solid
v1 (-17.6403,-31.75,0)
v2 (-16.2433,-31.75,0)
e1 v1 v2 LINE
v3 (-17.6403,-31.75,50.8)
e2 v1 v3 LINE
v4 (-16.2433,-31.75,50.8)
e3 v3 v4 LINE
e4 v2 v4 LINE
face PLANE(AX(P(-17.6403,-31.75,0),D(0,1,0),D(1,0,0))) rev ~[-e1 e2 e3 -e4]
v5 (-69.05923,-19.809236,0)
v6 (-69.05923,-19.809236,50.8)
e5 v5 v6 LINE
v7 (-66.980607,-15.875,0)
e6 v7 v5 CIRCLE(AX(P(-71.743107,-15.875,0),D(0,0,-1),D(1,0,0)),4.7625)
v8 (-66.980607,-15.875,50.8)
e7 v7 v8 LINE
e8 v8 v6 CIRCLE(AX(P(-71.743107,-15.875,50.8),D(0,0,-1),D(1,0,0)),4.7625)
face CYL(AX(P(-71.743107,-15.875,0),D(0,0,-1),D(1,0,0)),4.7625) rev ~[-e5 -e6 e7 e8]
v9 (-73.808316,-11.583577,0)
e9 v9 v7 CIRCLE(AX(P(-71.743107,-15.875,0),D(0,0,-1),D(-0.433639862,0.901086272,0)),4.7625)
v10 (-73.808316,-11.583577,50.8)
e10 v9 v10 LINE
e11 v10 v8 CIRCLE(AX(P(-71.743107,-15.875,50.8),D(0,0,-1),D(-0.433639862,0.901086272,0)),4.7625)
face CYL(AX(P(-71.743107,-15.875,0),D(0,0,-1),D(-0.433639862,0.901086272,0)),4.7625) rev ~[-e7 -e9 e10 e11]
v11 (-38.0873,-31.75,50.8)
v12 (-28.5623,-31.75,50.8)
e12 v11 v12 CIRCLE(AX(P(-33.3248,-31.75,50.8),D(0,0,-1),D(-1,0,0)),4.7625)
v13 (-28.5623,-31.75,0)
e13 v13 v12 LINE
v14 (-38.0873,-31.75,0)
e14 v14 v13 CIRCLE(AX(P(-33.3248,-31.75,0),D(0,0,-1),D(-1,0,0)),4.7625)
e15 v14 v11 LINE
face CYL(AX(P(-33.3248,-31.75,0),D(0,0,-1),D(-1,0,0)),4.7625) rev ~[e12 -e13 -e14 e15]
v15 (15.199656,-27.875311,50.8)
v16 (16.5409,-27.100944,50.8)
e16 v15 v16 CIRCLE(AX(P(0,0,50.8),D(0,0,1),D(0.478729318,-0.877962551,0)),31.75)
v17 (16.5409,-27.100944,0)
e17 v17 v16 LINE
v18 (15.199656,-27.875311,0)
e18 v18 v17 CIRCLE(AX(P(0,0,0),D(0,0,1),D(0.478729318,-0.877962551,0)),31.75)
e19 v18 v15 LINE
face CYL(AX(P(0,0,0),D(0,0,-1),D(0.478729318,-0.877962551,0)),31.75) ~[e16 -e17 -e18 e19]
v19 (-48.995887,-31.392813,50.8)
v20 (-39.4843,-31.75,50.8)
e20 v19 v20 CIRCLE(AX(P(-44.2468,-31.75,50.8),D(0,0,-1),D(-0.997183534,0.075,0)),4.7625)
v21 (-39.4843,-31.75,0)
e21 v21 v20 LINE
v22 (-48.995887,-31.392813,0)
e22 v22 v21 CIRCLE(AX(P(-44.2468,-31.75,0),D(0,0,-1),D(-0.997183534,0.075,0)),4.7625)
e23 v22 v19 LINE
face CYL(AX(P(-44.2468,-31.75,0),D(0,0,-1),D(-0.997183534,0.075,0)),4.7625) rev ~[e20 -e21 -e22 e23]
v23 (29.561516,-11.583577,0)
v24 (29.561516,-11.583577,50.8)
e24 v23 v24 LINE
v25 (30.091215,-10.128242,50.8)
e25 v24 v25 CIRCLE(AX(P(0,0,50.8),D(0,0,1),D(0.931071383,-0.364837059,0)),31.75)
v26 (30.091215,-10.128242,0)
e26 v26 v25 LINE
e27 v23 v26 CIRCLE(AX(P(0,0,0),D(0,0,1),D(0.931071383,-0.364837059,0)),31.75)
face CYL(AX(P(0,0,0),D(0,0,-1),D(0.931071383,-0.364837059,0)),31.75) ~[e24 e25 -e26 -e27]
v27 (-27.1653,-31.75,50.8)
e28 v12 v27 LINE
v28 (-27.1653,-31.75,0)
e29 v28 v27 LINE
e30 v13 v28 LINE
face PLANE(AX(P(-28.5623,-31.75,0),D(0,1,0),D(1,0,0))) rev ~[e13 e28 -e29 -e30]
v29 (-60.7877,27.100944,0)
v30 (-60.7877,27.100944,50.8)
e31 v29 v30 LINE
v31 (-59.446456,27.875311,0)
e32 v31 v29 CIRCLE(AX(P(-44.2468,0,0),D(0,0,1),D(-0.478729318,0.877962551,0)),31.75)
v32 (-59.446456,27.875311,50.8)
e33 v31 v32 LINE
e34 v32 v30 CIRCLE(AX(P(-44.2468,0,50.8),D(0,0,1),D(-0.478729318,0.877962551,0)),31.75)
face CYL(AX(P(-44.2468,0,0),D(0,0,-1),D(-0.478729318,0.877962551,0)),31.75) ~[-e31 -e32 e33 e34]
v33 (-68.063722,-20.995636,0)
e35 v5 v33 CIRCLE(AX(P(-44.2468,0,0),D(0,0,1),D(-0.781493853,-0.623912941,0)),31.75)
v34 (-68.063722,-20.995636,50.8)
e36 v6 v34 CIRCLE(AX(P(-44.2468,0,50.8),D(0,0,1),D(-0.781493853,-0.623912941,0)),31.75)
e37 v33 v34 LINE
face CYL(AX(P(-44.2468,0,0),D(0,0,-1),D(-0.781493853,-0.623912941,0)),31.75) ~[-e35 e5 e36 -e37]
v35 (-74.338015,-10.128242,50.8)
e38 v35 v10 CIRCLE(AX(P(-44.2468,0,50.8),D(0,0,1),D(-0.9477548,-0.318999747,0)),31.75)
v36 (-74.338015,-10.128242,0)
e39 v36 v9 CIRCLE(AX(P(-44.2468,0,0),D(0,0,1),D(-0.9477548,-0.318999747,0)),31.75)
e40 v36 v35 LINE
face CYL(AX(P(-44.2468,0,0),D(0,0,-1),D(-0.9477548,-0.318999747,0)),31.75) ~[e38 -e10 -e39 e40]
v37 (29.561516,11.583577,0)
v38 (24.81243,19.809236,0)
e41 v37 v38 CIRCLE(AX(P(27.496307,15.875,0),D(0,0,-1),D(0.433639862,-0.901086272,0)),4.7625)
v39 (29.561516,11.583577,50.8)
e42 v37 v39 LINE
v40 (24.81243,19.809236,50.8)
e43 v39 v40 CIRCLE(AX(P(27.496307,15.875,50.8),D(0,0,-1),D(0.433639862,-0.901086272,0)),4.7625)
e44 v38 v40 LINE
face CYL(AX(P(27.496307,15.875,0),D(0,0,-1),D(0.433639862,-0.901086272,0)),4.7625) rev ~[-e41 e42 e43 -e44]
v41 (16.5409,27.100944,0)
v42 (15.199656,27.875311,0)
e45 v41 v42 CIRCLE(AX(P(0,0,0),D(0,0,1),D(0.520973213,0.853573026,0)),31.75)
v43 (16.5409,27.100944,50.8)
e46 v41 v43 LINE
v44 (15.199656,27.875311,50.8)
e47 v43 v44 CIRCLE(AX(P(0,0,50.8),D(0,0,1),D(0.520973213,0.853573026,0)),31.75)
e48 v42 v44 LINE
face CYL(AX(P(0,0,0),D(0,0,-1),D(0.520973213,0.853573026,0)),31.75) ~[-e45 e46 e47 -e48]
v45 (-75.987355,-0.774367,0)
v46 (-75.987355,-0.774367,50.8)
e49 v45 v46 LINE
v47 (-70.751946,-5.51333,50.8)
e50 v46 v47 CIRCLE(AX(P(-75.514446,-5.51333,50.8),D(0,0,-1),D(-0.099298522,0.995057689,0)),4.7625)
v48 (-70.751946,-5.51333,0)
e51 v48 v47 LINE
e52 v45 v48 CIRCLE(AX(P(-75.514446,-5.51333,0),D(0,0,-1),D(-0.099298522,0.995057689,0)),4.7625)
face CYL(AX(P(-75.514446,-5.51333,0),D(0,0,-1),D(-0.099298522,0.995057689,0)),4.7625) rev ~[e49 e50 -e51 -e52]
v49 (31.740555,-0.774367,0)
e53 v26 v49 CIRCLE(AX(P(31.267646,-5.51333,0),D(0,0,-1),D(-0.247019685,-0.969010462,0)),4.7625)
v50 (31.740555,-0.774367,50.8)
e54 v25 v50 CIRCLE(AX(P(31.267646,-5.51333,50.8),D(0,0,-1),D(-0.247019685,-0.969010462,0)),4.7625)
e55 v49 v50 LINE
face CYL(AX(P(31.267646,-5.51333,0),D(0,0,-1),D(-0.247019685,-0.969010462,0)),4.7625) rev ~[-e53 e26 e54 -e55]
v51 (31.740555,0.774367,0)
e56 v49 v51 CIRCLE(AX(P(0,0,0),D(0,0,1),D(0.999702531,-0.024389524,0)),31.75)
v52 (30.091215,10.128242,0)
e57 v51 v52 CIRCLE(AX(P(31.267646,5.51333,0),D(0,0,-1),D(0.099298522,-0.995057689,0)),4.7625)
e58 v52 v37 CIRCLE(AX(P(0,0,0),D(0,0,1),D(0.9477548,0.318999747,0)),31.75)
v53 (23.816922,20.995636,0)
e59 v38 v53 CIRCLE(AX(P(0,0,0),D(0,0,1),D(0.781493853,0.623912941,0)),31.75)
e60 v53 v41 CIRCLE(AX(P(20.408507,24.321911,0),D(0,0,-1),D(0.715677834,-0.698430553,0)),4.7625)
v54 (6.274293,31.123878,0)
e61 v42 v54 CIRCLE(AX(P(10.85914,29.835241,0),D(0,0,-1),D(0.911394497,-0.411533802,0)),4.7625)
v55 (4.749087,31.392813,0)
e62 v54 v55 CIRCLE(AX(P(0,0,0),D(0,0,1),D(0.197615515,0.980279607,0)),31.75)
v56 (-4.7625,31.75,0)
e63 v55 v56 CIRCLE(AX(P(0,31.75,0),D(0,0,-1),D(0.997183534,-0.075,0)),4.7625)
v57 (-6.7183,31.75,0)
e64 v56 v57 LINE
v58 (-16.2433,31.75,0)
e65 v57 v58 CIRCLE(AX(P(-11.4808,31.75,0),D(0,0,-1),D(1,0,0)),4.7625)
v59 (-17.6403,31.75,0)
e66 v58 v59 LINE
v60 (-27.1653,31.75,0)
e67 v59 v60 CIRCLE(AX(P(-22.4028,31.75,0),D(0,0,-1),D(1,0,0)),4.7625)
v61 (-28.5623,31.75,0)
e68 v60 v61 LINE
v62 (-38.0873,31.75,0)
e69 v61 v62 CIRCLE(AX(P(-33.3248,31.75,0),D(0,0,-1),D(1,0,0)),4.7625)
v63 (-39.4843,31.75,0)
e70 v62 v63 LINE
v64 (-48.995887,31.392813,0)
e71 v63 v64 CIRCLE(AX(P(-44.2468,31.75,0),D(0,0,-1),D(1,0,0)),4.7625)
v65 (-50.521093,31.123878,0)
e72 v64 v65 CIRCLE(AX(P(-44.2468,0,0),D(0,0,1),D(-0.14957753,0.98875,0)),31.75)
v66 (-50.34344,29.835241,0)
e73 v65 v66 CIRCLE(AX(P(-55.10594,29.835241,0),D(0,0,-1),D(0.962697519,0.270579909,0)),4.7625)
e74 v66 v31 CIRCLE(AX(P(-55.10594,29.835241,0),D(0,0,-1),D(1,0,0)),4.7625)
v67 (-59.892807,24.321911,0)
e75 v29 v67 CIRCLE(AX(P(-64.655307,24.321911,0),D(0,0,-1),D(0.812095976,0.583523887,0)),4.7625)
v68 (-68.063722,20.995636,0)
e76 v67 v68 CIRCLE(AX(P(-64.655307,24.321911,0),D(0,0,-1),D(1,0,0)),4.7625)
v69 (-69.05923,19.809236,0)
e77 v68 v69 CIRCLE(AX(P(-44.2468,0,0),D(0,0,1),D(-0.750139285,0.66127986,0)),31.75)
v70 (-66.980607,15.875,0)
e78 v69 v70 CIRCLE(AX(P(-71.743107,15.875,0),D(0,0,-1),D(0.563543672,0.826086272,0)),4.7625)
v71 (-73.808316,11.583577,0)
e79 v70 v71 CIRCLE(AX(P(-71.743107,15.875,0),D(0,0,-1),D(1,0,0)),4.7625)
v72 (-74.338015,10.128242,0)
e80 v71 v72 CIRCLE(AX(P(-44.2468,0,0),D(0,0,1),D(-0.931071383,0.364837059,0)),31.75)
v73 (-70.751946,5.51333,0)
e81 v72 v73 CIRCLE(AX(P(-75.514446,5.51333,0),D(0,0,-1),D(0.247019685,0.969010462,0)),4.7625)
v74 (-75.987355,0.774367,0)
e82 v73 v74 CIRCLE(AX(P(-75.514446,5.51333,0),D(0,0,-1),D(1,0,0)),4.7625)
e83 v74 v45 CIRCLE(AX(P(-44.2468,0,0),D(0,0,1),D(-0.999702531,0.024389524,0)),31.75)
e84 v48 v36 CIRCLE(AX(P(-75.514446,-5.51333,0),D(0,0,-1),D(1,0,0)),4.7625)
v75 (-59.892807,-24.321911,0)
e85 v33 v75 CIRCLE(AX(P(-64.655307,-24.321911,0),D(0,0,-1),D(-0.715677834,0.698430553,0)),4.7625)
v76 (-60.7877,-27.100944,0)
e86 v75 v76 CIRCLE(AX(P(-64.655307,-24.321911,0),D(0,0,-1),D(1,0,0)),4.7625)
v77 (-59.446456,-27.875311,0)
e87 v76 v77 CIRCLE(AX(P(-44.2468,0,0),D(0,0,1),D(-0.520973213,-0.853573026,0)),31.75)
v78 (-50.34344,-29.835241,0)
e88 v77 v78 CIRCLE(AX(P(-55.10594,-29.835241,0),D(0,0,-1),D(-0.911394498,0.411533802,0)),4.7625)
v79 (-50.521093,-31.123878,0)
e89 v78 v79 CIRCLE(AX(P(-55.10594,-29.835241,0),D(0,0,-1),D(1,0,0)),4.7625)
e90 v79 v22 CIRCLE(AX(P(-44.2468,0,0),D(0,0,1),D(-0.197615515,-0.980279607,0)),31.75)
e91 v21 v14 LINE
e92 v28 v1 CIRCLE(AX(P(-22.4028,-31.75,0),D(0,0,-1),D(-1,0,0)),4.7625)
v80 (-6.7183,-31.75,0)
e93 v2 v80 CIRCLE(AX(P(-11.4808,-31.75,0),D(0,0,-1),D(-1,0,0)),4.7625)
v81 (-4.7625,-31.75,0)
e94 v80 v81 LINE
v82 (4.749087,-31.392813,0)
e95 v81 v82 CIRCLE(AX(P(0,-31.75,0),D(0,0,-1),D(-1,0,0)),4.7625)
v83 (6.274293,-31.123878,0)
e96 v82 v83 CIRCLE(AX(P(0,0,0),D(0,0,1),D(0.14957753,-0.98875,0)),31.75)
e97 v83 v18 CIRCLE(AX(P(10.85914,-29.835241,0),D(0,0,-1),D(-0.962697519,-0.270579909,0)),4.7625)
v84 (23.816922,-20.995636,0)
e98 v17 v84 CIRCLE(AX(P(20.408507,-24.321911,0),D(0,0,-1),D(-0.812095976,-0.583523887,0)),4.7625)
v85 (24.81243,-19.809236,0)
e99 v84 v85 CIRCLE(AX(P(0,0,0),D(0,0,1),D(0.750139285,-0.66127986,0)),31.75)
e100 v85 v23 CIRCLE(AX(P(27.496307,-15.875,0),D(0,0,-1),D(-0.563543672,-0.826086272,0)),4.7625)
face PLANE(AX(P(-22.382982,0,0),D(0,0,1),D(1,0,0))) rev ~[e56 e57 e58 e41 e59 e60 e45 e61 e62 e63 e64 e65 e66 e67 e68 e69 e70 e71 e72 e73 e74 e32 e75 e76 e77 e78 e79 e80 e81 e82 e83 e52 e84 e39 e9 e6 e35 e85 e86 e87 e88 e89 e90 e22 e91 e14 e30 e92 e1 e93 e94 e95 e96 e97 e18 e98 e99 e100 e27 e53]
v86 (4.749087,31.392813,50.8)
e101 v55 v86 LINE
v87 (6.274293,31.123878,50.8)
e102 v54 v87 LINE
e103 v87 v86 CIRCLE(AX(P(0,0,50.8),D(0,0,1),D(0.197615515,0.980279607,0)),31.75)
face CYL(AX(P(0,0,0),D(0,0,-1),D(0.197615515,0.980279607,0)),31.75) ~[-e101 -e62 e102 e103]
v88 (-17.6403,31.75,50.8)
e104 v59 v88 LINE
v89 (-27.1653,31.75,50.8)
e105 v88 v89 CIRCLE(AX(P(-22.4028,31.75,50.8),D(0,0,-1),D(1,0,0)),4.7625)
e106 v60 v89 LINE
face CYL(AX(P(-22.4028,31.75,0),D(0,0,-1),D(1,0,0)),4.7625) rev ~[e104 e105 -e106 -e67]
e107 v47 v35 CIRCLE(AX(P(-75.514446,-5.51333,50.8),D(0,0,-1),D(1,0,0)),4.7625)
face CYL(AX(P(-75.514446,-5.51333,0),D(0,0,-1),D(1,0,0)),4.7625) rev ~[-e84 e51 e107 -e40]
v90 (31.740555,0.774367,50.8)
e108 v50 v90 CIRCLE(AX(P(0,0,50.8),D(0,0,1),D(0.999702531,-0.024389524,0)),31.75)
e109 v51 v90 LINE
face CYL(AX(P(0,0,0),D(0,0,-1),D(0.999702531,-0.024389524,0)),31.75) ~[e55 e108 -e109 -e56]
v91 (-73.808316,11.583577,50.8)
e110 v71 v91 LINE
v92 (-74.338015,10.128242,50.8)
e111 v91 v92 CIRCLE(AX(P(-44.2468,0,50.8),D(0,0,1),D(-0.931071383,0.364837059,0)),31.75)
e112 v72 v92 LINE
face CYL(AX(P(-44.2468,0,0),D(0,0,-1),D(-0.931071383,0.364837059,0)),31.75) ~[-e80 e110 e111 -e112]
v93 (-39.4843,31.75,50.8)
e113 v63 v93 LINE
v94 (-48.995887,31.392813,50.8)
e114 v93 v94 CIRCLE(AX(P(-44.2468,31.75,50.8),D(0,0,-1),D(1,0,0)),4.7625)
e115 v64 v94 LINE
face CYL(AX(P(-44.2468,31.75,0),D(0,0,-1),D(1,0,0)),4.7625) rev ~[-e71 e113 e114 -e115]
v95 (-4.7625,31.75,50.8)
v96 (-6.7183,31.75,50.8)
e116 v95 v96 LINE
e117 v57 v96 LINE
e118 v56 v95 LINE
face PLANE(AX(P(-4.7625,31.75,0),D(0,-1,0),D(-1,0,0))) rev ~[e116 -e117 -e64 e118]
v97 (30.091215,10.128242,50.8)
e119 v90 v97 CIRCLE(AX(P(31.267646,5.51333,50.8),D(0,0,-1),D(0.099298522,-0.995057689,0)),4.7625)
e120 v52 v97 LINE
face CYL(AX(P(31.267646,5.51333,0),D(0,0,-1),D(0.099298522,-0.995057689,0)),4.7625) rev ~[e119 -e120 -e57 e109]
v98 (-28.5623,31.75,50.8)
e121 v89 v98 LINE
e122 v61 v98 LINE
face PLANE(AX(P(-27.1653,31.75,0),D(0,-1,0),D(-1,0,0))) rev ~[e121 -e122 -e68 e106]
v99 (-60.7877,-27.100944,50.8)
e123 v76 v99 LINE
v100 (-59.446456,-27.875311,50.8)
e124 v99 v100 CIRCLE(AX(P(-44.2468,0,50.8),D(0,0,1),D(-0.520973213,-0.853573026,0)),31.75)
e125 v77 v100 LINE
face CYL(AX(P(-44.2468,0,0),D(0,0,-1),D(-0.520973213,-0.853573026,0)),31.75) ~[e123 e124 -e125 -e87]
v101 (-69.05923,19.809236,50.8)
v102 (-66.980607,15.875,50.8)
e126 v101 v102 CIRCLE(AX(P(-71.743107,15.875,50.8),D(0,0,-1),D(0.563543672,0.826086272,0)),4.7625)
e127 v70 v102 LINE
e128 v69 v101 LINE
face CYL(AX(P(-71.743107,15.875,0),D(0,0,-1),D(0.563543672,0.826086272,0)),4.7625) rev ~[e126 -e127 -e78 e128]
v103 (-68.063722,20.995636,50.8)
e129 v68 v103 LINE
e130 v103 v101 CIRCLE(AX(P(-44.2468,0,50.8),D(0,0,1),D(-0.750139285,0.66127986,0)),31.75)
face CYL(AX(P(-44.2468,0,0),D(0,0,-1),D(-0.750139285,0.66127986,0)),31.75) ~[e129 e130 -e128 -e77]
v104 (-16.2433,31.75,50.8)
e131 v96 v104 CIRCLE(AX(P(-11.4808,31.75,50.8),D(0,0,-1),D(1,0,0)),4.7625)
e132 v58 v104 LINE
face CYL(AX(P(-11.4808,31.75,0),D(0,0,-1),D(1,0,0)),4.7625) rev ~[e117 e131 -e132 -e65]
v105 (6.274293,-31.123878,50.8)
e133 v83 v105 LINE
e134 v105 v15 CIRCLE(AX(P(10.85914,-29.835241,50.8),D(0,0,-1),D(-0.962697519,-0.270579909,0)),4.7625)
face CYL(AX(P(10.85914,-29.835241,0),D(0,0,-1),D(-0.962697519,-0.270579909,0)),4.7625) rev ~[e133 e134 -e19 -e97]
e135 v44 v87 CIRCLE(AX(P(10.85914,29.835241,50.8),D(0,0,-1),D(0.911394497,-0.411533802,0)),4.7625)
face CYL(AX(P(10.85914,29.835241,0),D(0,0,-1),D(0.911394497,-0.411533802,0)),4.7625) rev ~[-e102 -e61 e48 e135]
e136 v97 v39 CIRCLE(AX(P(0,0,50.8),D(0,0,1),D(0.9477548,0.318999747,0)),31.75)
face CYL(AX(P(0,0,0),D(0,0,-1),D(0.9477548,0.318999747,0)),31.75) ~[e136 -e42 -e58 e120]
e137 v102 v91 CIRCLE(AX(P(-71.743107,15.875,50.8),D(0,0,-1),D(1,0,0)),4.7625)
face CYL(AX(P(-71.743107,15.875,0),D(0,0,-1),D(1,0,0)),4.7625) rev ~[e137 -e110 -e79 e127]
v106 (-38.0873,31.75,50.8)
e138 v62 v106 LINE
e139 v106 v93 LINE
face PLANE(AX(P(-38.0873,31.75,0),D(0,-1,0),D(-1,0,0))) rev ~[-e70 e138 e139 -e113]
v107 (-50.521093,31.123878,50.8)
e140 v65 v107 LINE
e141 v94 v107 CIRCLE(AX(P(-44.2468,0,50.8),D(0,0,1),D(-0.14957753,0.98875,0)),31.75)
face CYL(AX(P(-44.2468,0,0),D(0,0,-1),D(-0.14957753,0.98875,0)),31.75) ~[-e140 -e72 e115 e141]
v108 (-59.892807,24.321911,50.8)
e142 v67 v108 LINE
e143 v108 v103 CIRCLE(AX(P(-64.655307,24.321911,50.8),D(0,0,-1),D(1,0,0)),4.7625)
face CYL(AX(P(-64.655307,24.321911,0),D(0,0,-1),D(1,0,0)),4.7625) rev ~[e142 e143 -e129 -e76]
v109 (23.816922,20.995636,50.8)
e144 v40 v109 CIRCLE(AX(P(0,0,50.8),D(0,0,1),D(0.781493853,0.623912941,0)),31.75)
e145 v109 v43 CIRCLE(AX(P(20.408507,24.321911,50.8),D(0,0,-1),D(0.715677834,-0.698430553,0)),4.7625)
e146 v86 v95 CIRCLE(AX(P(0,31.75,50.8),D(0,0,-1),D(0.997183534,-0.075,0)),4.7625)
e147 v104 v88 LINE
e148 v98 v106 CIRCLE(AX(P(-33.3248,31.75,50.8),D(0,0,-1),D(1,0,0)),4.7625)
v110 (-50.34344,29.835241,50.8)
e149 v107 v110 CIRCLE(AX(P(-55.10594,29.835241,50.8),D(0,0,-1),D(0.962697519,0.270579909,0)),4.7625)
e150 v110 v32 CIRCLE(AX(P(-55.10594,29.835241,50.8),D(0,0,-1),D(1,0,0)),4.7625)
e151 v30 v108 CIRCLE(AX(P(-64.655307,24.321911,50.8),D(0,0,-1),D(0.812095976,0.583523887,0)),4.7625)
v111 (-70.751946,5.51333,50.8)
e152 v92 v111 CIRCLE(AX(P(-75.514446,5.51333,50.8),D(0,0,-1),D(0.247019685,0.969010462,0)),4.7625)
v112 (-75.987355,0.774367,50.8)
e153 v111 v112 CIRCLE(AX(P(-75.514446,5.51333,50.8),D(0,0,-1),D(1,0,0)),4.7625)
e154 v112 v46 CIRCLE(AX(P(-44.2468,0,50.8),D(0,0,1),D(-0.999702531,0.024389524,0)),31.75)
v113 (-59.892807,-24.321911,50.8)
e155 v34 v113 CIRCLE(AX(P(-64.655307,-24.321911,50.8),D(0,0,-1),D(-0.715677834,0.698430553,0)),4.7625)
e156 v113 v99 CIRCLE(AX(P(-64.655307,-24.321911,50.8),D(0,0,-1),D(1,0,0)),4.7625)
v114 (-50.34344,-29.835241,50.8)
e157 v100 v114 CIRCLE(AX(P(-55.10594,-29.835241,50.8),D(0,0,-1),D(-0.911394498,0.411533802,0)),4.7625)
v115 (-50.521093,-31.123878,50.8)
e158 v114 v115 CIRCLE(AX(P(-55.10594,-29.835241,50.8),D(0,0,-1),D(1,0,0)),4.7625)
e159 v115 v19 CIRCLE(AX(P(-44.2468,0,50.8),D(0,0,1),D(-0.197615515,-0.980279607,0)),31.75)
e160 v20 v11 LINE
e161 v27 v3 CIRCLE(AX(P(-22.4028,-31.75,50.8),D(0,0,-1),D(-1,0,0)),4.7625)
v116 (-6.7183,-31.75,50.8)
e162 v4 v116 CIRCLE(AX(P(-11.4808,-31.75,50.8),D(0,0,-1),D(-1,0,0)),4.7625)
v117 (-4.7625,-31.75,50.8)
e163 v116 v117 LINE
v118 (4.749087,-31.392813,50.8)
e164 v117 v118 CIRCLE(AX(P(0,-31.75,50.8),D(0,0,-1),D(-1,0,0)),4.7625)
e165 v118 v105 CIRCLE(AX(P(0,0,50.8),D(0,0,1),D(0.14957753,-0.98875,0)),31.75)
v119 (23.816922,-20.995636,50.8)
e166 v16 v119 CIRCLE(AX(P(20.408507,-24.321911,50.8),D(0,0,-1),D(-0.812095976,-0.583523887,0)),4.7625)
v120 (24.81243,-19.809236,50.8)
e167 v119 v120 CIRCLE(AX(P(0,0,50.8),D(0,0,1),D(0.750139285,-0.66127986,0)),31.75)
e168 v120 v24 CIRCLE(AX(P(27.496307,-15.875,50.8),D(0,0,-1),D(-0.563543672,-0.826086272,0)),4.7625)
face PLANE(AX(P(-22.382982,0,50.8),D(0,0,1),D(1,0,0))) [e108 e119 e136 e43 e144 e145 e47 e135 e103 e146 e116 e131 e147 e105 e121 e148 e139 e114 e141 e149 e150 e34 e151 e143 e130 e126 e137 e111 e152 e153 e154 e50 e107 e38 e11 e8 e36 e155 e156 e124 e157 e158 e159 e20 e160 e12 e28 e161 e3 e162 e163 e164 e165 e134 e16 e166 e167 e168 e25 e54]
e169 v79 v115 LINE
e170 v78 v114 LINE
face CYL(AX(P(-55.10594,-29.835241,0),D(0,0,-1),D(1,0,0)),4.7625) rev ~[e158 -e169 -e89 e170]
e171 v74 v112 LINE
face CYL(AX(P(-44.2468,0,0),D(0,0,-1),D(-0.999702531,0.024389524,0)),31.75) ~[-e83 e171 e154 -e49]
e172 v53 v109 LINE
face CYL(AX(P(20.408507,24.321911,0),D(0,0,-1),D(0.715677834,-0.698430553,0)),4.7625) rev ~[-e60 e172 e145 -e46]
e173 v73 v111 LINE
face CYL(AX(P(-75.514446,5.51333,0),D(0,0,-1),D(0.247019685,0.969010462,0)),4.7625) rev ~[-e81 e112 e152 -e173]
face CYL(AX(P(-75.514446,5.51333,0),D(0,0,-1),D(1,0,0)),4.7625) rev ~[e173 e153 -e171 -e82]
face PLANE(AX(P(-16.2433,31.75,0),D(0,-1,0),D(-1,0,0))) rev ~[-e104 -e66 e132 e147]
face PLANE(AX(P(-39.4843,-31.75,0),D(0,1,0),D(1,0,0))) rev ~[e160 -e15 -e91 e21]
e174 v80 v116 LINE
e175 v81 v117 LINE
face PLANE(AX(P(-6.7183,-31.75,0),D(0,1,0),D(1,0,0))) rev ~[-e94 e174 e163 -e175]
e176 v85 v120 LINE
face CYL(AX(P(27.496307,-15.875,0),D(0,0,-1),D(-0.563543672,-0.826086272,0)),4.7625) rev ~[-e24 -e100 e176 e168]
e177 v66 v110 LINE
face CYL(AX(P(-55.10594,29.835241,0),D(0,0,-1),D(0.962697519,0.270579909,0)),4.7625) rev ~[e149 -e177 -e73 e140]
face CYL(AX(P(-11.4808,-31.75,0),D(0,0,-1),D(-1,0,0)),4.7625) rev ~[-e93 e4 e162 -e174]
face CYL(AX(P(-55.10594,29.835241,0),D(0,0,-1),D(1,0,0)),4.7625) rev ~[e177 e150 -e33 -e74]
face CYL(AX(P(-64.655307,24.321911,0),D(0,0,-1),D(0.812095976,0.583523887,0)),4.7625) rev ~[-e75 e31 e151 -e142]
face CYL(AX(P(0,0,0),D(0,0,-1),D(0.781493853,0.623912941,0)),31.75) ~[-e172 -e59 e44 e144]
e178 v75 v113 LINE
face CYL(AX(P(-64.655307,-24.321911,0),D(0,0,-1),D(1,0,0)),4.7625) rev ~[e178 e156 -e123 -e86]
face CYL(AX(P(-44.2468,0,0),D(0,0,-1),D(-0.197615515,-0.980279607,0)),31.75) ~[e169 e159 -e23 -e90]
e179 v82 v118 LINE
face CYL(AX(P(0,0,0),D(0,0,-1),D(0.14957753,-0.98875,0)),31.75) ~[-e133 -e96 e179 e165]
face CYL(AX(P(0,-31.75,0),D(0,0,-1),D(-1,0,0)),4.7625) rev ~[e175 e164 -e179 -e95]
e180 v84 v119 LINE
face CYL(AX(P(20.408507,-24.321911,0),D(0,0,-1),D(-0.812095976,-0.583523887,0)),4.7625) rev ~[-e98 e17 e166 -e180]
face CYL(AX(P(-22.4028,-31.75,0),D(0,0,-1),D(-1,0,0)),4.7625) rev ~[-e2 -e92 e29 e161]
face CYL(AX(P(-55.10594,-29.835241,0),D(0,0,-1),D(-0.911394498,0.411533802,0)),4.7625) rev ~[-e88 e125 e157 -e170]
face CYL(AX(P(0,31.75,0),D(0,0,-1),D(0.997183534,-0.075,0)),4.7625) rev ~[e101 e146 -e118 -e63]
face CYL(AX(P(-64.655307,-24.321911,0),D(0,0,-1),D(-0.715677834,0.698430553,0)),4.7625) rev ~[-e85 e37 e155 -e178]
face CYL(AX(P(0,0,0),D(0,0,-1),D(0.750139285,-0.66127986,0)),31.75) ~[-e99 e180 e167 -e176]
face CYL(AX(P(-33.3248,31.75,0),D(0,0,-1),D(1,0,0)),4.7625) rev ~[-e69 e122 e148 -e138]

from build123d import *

# Parameters (mm, degrees)
F1_DEPTH = 50.8


with BuildPart() as f1:
    # F0 (on Top) → F1 (new body)
    with BuildSketch(Plane.XY):
        with BuildLine():
            ThreePointArc((-39.4843, 31.75), (-44.0680803662, 26.9908545365), (-48.9958865795, 31.3928125))
            ThreePointArc((-48.9958865795, 31.3928125), (-49.7601296409, 31.2676461581), (-50.5210926164, 31.1238775246))
            ThreePointArc((-50.5210926164, 31.1238775246), (-50.3880618617, 30.485653166), (-50.3434395506, 29.83524071))
            ThreePointArc((-50.3434395506, 29.83524071), (-54.1035181326, 25.1794316985), (-59.4464558449, 27.8753109794))
            ThreePointArc((-59.4464558449, 27.8753109794), (-60.1218, 27.4963065702), (-60.7876995241, 27.1009435801))
            ThreePointArc((-60.7876995241, 27.1009435801), (-60.1220470195, 25.7816931615), (-59.8928066075, 24.321911069))
            ThreePointArc((-59.8928066075, 24.321911069), (-62.859641473, 19.9109029105), (-68.0637222924, 20.9956355589))
            ThreePointArc((-68.0637222924, 20.9956355589), (-68.568711069, 20.4085066075), (-69.0592298315, 19.8092358726))
            ThreePointArc((-69.0592298315, 19.8092358726), (-67.5322058816, 18.0997969887), (-66.9806065702, 15.875))
            ThreePointArc((-66.9806065702, 15.875), (-69.2087580954, 11.8428189452), (-73.808316411, 11.5835766274))
            ThreePointArc((-73.808316411, 11.5835766274), (-74.08204071, 10.8591395506), (-74.3380149087, 10.1282419657))
            ThreePointArc((-74.3380149087, 10.1282419657), (-71.7538504556, 8.4355421952), (-70.7519461581, 5.5133296409))
            ThreePointArc((-70.7519461581, 5.5133296409), (-72.3184192392, 1.9824914708), (-75.987355369, 0.7743673992))
            ThreePointArc((-75.987355369, 0.7743673992), (-75.9968, 0), (-75.987355369, -0.7743673992))
            ThreePointArc((-75.987355369, -0.7743673992), (-72.3184192392, -1.9824914708), (-70.7519461581, -5.5133296409))
            ThreePointArc((-70.7519461581, -5.5133296409), (-71.7538504556, -8.4355421952), (-74.3380149087, -10.1282419657))
            ThreePointArc((-74.3380149087, -10.1282419657), (-74.08204071, -10.8591395506), (-73.808316411, -11.5835766274))
            ThreePointArc((-73.808316411, -11.5835766274), (-69.2087580954, -11.8428189452), (-66.9806065702, -15.875))
            ThreePointArc((-66.9806065702, -15.875), (-67.5322058816, -18.0997969887), (-69.0592298315, -19.8092358726))
            ThreePointArc((-69.0592298315, -19.8092358726), (-68.568711069, -20.4085066075), (-68.0637222924, -20.9956355589))
            ThreePointArc((-68.0637222924, -20.9956355589), (-62.859641473, -19.9109029105), (-59.8928066075, -24.321911069))
            ThreePointArc((-59.8928066075, -24.321911069), (-60.1220470195, -25.7816931615), (-60.7876995241, -27.1009435801))
            ThreePointArc((-60.7876995241, -27.1009435801), (-60.1218, -27.4963065702), (-59.4464558449, -27.8753109794))
            ThreePointArc((-59.4464558449, -27.8753109794), (-54.1035181326, -25.1794316985), (-50.3434395506, -29.83524071))
            ThreePointArc((-50.3434395506, -29.83524071), (-50.3880618617, -30.485653166), (-50.5210926164, -31.1238775246))
            ThreePointArc((-50.5210926164, -31.1238775246), (-49.7601296409, -31.2676461581), (-48.9958865795, -31.3928125))
            ThreePointArc((-48.9958865795, -31.3928125), (-44.0680803662, -26.9908545365), (-39.4843, -31.75))
            Line((-39.4843, -31.75), (-38.0873, -31.75))
            ThreePointArc((-38.0873, -31.75), (-33.3248, -26.9875), (-28.5623, -31.75))
            Line((-28.5623, -31.75), (-27.1653, -31.75))
            ThreePointArc((-27.1653, -31.75), (-22.4028, -26.9875), (-17.6403, -31.75))
            Line((-17.6403, -31.75), (-16.2433, -31.75))
            ThreePointArc((-16.2433, -31.75), (-11.4808, -26.9875), (-6.7183, -31.75))
            Line((-6.7183, -31.75), (-4.7625, -31.75))
            ThreePointArc((-4.7625, -31.75), (-0.1787196338, -26.9908545365), (4.7490865795, -31.3928125))
            ThreePointArc((4.7490865795, -31.3928125), (5.5133296409, -31.2676461581), (6.2742926164, -31.1238775246))
            ThreePointArc((6.2742926164, -31.1238775246), (9.230268618, -25.3599546035), (15.1996558449, -27.8753109794))
            ThreePointArc((15.1996558449, -27.8753109794), (15.875, -27.4963065702), (16.5408995241, -27.1009435801))
            ThreePointArc((16.5408995241, -27.1009435801), (17.3472306164, -20.6736244087), (23.8169222924, -20.9956355589))
            ThreePointArc((23.8169222924, -20.9956355589), (24.321911069, -20.4085066075), (24.8124298315, -19.8092358726))
            ThreePointArc((24.8124298315, -19.8092358726), (23.3718605846, -13.49375), (29.561516411, -11.5835766274))
            ThreePointArc((29.561516411, -11.5835766274), (29.83524071, -10.8591395506), (30.0912149087, -10.1282419657))
            ThreePointArc((30.0912149087, -10.1282419657), (26.5774992344, -4.6863301948), (31.740555369, -0.7743673992))
            ThreePointArc((31.740555369, -0.7743673992), (31.75, 0), (31.740555369, 0.7743673992))
            ThreePointArc((31.740555369, 0.7743673992), (26.5774992344, 4.6863301948), (30.0912149087, 10.1282419657))
            ThreePointArc((30.0912149087, 10.1282419657), (29.83524071, 10.8591395506), (29.561516411, 11.5835766274))
            ThreePointArc((29.561516411, 11.5835766274), (23.3718605846, 13.49375), (24.8124298315, 19.8092358726))
            ThreePointArc((24.8124298315, 19.8092358726), (24.321911069, 20.4085066075), (23.8169222924, 20.9956355589))
            ThreePointArc((23.8169222924, 20.9956355589), (17.3472306164, 20.6736244087), (16.5408995241, 27.1009435801))
            ThreePointArc((16.5408995241, 27.1009435801), (15.875, 27.4963065702), (15.1996558449, 27.8753109794))
            ThreePointArc((15.1996558449, 27.8753109794), (9.230268618, 25.3599546035), (6.2742926164, 31.1238775246))
            ThreePointArc((6.2742926164, 31.1238775246), (5.5133296409, 31.2676461581), (4.7490865795, 31.3928125))
            ThreePointArc((4.7490865795, 31.3928125), (-0.1787196338, 26.9908545365), (-4.7625, 31.75))
            Line((-4.7625, 31.75), (-6.7183, 31.75))
            ThreePointArc((-6.7183, 31.75), (-11.4808, 26.9875), (-16.2433, 31.75))
            Line((-16.2433, 31.75), (-17.6403, 31.75))
            ThreePointArc((-17.6403, 31.75), (-22.4028, 26.9875), (-27.1653, 31.75))
            Line((-27.1653, 31.75), (-28.5623, 31.75))
            ThreePointArc((-28.5623, 31.75), (-33.3248, 26.9875), (-38.0873, 31.75))
            Line((-38.0873, 31.75), (-39.4843, 31.75))
        make_face()
    extrude(amount=F1_DEPTH)


solid = f1.part
